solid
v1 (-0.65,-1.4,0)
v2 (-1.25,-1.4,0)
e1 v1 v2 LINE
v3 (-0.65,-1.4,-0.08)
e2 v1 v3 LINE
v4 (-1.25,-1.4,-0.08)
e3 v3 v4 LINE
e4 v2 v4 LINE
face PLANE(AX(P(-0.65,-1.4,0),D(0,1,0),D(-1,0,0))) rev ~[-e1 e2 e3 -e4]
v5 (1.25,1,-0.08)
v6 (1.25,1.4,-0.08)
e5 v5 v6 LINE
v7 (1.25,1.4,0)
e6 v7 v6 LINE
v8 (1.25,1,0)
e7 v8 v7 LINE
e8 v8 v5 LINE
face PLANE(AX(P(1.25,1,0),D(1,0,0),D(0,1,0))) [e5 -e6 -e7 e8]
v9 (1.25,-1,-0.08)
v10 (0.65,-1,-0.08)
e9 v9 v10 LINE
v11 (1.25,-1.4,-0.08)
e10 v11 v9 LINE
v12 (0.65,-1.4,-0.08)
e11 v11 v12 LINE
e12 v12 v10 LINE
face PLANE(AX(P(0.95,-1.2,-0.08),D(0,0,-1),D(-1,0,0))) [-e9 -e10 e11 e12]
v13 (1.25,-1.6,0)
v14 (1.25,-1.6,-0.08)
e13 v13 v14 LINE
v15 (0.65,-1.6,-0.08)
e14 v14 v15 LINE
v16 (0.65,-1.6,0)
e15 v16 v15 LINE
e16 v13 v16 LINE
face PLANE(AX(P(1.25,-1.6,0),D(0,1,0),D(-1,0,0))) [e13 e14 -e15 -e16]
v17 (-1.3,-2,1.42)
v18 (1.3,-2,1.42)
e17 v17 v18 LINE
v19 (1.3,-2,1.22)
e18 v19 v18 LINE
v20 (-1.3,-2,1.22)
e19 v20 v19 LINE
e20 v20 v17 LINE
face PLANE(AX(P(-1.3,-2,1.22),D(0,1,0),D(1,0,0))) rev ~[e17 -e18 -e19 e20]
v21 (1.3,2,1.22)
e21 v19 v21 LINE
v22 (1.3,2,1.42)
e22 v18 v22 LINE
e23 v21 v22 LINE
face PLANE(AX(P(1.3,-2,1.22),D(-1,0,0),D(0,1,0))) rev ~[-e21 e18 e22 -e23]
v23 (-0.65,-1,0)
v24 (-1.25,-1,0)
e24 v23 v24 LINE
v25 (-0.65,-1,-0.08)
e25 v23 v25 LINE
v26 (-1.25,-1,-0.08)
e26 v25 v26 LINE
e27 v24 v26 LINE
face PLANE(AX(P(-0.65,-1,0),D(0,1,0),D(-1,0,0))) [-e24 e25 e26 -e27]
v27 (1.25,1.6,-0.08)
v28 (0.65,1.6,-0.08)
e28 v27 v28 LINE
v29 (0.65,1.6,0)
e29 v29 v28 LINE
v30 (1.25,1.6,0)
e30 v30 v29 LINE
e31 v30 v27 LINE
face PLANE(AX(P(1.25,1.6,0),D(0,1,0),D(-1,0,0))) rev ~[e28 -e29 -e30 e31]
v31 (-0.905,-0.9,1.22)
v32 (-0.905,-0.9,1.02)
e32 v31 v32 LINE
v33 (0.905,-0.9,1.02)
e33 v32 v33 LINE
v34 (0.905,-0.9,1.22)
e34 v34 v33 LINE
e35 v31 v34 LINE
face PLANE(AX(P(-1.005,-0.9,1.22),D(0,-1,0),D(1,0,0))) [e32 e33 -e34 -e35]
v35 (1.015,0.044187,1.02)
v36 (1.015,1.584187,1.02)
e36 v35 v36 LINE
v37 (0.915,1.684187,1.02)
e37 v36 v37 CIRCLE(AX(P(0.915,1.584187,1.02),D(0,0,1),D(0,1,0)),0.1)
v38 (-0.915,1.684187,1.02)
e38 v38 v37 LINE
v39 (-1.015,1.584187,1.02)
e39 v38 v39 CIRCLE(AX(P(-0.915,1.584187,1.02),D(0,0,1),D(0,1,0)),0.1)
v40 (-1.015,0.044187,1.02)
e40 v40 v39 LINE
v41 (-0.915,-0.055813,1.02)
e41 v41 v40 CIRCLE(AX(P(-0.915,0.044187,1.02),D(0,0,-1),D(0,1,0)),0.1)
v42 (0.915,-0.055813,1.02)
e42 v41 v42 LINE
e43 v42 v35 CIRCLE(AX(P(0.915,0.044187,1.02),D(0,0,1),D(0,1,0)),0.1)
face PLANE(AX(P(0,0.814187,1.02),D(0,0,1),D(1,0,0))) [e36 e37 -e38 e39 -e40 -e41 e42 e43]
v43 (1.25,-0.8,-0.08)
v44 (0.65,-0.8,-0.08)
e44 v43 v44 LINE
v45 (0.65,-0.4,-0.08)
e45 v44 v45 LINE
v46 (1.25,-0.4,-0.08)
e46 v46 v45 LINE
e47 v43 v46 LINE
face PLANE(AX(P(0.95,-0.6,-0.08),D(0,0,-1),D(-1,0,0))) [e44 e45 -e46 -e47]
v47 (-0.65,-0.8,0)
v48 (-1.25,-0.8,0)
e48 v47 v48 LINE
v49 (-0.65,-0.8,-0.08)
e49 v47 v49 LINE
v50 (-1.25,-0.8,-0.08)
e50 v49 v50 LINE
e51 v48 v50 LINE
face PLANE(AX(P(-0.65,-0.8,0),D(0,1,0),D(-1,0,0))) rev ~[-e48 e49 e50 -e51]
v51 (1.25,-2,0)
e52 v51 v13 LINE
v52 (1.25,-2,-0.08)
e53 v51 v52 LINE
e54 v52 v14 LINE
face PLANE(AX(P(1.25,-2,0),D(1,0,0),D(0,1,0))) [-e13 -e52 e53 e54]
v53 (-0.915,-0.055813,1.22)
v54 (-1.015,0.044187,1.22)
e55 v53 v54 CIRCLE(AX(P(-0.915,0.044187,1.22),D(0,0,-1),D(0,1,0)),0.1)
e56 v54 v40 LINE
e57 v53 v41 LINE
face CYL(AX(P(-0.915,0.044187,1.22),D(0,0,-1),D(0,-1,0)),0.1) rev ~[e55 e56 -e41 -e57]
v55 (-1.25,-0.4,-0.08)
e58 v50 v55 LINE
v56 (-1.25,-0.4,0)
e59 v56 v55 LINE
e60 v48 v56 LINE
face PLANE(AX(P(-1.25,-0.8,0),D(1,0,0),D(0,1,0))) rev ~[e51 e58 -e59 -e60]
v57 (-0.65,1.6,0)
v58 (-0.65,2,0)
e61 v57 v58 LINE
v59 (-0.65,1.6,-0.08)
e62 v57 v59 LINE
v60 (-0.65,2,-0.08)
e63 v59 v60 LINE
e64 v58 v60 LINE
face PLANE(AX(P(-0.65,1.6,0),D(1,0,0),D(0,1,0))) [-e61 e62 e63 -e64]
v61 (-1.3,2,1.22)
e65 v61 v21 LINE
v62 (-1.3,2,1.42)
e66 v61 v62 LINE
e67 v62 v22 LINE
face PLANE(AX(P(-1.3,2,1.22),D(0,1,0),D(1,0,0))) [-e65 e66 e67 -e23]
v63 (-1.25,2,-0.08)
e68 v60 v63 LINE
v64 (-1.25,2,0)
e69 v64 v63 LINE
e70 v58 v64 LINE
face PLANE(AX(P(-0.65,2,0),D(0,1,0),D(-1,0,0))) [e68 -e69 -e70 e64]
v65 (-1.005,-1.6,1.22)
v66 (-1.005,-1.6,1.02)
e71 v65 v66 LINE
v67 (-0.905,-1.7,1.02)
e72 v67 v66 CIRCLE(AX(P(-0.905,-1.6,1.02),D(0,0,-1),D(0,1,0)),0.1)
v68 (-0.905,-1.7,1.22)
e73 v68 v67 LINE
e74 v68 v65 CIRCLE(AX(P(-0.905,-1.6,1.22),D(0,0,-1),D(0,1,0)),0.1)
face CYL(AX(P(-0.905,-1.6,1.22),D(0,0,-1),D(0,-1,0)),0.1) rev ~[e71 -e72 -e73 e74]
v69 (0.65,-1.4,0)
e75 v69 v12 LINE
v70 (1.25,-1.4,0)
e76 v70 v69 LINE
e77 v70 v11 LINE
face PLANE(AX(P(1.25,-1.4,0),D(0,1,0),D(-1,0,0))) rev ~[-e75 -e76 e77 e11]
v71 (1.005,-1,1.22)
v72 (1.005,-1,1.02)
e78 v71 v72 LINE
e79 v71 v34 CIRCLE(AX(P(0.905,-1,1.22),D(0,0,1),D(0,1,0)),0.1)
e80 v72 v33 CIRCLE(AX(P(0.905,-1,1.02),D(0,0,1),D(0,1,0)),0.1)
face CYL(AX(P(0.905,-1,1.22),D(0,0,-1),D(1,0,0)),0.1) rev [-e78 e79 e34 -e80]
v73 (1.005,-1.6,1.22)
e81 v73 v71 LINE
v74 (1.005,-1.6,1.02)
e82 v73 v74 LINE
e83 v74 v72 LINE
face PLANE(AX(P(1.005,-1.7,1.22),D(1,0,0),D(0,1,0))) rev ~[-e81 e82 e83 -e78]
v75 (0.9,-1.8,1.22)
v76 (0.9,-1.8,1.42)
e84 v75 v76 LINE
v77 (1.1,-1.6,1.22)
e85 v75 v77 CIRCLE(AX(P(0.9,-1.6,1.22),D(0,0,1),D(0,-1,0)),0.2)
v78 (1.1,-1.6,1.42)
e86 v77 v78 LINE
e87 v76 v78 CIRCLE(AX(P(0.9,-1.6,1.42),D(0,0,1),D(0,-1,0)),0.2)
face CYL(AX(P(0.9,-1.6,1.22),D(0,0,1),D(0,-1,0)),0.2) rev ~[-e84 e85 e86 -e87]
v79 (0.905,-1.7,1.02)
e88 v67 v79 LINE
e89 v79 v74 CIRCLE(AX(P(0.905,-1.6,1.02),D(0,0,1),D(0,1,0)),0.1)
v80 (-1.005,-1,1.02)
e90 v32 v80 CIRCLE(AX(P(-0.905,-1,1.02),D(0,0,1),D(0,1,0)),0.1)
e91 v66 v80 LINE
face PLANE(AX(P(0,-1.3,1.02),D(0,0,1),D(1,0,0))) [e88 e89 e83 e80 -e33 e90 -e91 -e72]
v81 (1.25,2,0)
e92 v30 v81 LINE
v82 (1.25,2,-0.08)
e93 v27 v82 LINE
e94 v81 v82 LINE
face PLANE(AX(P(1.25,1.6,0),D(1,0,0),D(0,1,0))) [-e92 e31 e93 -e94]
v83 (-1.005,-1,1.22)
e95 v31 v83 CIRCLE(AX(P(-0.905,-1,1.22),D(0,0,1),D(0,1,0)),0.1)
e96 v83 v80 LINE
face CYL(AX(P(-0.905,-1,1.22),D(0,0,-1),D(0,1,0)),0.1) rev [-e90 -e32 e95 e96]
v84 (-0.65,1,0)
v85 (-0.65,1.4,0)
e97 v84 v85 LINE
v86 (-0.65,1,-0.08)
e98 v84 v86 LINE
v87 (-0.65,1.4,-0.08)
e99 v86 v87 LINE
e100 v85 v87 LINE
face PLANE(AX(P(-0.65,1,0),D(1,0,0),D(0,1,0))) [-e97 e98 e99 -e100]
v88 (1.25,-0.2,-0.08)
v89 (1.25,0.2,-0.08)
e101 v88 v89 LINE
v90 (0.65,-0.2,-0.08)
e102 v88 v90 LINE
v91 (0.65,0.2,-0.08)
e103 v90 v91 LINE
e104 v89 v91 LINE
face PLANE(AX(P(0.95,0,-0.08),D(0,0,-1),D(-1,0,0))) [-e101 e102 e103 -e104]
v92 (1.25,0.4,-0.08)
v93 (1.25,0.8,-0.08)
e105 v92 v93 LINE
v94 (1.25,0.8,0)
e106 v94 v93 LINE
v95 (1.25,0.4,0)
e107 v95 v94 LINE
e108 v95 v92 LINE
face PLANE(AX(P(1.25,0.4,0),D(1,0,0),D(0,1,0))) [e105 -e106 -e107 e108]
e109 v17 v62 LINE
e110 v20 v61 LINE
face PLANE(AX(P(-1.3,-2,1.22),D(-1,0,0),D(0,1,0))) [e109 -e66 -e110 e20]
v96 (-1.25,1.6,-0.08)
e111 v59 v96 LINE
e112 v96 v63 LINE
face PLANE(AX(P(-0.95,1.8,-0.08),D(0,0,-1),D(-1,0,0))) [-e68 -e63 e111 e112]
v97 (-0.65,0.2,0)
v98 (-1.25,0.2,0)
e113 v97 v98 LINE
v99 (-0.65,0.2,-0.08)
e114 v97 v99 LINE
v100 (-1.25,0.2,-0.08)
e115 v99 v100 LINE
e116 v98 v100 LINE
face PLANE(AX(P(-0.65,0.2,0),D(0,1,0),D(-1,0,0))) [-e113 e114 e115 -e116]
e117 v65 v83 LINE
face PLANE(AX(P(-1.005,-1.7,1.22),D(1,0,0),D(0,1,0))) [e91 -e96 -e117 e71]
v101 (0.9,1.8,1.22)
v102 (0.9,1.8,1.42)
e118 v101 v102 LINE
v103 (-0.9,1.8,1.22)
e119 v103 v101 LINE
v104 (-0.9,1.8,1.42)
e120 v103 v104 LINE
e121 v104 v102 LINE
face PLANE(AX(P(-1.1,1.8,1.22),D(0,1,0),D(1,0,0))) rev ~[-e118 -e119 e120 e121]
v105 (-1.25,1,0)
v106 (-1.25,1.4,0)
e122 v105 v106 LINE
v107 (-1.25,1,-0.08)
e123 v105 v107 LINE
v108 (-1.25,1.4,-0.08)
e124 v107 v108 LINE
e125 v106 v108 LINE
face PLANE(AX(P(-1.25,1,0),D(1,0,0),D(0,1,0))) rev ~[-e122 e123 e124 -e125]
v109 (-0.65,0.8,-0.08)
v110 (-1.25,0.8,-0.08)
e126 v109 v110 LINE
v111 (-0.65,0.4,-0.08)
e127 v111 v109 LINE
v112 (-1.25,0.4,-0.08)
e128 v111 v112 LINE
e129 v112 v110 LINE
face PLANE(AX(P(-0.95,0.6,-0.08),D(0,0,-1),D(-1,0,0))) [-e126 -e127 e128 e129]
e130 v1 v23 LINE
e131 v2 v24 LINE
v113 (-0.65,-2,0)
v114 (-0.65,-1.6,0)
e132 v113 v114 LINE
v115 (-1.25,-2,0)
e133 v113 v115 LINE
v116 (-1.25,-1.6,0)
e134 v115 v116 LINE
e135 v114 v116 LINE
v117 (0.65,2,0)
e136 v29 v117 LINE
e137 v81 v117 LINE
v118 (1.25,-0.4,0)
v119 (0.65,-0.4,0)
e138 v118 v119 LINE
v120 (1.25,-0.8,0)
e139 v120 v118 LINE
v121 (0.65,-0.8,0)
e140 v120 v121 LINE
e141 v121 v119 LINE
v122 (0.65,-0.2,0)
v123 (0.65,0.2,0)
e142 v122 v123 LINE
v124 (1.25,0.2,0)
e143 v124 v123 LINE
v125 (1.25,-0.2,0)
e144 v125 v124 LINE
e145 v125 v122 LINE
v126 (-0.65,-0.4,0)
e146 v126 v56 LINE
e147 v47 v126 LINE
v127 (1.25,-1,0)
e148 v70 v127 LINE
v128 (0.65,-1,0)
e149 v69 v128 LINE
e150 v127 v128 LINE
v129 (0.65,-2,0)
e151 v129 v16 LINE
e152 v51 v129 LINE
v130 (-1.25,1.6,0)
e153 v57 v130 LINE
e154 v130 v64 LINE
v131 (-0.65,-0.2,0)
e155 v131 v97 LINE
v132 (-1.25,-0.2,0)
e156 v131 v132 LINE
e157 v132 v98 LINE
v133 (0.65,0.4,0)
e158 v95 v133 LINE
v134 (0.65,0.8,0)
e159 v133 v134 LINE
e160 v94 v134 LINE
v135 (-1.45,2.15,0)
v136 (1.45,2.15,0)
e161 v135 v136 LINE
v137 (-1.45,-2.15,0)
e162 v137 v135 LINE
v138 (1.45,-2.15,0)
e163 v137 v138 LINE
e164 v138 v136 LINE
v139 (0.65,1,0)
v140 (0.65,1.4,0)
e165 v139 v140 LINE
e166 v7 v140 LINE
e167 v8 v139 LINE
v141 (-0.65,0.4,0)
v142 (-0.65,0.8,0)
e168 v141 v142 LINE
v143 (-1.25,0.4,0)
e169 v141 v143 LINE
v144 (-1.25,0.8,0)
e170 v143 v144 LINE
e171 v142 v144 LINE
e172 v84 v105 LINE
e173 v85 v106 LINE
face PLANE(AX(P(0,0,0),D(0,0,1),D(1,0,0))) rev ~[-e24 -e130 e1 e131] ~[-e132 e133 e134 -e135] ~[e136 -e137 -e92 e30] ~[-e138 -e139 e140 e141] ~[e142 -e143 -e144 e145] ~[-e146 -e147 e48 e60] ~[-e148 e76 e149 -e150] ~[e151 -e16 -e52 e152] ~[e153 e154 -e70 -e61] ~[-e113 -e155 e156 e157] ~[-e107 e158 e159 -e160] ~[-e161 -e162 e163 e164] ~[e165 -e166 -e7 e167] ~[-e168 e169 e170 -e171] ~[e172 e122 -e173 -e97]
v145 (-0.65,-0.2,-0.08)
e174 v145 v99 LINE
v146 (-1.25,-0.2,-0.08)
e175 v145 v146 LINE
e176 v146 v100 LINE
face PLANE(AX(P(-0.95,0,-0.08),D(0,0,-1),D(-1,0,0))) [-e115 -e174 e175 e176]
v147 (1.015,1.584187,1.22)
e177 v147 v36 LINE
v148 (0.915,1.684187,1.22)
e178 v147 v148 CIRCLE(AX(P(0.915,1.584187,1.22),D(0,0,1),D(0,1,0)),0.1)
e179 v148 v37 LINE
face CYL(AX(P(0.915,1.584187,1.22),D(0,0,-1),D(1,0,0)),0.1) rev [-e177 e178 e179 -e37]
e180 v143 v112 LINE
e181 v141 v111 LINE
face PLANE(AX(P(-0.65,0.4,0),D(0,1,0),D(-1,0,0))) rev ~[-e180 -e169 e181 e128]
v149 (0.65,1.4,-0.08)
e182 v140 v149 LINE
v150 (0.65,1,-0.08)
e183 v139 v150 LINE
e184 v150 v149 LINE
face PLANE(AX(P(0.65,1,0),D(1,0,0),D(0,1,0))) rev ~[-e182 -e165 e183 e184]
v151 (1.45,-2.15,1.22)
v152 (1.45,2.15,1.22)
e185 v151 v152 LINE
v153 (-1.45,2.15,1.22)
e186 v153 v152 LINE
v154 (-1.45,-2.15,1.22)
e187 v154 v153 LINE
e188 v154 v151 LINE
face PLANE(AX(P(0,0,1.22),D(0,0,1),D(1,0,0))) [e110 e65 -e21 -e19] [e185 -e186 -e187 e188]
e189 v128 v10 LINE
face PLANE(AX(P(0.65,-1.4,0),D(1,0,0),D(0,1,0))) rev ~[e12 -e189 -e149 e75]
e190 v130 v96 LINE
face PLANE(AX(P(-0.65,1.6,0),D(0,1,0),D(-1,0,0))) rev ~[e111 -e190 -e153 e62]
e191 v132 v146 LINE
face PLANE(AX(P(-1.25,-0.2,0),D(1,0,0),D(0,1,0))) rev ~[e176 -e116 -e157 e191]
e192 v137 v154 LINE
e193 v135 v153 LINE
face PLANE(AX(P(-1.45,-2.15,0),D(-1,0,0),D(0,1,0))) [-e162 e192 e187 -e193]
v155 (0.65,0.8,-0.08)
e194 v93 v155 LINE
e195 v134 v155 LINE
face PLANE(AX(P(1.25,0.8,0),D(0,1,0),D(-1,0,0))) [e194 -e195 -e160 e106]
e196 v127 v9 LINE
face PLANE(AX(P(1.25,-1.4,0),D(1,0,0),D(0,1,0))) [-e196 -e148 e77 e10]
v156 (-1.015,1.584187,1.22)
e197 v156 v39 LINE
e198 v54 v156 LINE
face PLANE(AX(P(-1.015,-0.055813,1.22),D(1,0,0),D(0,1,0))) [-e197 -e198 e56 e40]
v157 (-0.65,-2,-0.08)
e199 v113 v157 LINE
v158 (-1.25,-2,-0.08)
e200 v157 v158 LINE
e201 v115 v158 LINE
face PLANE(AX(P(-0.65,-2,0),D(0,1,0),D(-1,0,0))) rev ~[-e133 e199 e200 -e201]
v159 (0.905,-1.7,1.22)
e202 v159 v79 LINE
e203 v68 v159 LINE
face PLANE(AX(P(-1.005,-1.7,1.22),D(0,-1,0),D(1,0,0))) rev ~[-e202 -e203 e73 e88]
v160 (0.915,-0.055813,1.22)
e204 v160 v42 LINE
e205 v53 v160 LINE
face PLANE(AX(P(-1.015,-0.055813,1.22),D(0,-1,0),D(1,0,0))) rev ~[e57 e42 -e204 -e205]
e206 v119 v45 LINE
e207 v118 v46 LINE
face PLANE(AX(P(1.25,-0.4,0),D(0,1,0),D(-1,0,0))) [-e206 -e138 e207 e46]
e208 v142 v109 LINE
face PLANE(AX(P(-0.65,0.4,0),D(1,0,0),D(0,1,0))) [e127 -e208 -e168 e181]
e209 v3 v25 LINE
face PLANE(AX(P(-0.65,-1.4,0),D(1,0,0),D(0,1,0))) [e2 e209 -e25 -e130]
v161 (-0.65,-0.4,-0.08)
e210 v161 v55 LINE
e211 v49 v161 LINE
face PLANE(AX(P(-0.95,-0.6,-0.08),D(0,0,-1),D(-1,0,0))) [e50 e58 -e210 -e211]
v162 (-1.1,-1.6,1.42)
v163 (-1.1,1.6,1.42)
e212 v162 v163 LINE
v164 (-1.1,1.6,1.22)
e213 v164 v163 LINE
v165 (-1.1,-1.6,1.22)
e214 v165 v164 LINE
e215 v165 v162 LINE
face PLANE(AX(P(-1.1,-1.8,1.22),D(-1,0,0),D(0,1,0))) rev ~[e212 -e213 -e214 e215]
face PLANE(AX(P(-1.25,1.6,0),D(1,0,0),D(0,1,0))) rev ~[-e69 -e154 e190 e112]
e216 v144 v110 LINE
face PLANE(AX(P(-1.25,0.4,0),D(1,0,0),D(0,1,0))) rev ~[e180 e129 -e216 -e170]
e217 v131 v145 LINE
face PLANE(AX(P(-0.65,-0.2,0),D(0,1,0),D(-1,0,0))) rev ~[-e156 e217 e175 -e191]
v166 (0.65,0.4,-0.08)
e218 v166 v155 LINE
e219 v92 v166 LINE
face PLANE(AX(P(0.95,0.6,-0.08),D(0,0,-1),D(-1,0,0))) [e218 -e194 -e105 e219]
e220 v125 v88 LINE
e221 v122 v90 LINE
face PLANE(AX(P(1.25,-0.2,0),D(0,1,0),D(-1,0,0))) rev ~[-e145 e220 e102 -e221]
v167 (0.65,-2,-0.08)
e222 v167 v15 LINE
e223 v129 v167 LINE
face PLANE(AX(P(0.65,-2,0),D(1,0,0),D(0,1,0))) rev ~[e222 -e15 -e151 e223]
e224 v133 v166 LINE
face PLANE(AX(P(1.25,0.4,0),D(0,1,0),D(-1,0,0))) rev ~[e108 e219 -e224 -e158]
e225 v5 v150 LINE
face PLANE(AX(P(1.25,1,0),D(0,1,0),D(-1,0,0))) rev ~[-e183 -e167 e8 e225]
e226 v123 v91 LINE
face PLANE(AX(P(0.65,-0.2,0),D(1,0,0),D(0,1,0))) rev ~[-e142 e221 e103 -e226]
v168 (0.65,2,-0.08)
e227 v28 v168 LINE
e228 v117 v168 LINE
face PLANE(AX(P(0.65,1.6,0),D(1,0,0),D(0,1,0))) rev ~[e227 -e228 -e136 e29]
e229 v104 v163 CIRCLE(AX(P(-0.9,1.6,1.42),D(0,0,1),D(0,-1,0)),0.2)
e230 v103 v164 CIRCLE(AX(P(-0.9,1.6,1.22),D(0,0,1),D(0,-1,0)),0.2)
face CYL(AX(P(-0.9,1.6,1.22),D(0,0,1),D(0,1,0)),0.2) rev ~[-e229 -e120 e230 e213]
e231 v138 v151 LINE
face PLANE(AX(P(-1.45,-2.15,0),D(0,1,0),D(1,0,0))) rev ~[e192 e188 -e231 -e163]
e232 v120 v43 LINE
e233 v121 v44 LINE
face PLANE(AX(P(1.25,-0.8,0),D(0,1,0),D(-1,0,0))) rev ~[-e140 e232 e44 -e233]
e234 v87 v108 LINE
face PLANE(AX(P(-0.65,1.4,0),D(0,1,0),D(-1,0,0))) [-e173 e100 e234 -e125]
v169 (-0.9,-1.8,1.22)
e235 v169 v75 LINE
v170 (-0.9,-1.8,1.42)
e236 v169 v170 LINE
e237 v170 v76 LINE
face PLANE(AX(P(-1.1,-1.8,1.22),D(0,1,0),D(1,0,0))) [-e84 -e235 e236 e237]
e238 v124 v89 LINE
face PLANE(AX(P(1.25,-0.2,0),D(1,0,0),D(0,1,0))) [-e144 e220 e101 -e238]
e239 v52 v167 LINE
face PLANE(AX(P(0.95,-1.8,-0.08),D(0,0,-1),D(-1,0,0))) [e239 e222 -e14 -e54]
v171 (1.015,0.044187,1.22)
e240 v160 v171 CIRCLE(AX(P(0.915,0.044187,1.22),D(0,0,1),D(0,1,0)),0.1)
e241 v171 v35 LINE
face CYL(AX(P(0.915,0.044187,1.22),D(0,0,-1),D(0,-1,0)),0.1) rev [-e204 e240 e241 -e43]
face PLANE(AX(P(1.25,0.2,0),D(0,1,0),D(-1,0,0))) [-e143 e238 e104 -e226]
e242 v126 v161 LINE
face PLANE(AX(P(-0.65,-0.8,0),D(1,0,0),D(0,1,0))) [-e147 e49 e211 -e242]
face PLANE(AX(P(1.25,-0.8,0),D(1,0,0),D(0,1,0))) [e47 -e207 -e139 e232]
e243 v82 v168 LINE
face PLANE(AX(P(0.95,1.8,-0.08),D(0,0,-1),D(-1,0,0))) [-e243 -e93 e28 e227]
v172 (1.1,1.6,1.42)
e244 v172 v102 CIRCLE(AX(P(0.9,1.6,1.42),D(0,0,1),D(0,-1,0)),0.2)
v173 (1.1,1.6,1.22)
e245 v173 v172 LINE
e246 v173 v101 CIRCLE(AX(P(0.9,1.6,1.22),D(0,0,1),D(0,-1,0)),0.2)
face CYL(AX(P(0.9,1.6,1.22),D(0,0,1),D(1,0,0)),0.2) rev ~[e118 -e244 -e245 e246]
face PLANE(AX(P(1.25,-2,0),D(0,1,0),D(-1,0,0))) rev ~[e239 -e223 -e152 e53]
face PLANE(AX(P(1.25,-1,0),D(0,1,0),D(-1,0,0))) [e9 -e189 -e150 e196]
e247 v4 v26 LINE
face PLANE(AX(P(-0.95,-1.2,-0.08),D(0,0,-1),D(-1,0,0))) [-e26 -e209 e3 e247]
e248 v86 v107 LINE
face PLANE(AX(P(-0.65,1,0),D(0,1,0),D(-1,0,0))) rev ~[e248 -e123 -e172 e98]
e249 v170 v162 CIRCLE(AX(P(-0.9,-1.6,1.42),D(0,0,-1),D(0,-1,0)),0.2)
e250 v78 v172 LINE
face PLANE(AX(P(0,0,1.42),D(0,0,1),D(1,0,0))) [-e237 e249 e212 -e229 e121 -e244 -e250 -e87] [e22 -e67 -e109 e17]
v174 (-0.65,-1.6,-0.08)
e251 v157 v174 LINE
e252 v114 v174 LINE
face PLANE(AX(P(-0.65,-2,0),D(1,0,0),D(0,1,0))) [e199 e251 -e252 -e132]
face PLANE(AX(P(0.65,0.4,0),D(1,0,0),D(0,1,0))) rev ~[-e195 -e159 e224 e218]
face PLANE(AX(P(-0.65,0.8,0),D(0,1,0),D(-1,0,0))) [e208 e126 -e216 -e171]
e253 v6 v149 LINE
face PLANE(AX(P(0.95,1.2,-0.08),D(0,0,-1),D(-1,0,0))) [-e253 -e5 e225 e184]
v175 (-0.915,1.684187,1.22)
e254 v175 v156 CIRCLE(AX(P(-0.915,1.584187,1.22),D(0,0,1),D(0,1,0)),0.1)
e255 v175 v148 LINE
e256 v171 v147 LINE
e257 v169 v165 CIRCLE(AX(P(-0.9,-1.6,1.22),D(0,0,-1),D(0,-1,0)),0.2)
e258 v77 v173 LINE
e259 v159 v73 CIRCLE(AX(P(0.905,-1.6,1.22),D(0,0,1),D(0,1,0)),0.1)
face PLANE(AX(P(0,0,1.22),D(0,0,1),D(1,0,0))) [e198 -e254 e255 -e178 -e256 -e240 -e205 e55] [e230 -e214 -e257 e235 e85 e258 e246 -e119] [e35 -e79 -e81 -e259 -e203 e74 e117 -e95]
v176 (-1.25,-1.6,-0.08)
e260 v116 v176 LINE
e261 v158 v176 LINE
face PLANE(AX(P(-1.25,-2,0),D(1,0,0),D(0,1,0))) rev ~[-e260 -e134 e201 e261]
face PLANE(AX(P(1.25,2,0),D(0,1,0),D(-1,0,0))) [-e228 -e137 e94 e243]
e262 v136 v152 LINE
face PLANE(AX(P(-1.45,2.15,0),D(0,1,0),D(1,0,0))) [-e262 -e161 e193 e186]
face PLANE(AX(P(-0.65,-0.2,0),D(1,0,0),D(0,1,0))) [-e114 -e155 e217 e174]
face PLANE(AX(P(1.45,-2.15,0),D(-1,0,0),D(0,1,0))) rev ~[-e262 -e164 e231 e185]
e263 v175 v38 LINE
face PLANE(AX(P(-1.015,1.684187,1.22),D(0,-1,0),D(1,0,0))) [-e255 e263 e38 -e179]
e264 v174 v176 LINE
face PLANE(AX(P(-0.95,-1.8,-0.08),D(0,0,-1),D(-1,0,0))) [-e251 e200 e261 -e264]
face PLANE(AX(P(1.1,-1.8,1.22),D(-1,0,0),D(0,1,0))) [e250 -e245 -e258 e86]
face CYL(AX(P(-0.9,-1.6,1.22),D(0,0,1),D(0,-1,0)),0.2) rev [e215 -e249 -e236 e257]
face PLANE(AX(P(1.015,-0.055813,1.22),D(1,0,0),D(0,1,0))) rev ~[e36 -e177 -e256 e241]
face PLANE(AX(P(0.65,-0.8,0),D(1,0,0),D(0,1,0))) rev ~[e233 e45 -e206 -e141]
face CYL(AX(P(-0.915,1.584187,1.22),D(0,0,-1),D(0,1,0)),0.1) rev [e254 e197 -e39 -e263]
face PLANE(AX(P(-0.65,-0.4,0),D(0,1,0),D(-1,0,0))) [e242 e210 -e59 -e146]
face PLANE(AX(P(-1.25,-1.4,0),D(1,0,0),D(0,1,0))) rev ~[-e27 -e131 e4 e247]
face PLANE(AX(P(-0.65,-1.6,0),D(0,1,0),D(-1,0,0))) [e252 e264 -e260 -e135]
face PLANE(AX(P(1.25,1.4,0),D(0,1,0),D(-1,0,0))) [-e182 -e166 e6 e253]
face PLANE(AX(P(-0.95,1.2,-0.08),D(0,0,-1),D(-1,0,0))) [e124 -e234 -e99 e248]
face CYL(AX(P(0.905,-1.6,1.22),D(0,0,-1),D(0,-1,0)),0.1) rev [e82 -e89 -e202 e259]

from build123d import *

# Parameters (mm, degrees)
SKETCH1_W           = 2.9
SKETCH1_H           = 4.3
BOSS_EXTRUDE1_DEPTH = 1.22
SKETCH4_W           = 0.6
SKETCH4_H           = 0.4
BOSS_EXTRUDE2_DEPTH = 0.08
SKETCH3_W           = 2.03
SKETCH3_H           = 1.74
SKETCH3_W_2         = 2.01
SKETCH3_H_2         = 0.8
CUT_EXTRUDE2_DEPTH  = 0.2
FILLET1_R           = 0.1
SKETCH2_W           = 2.6
SKETCH2_H           = 4
SKETCH2_W_2         = 2.2
SKETCH2_H_2         = 3.6
BOSS_EXTRUDE3_DEPTH = 0.2
FILLET2_R           = 0.2


with BuildPart() as part:
    # Sketch1 → Boss-Extrude1 (new body)
    with BuildSketch(Plane.XY):
        Rectangle(SKETCH1_W, SKETCH1_H)
    extrude(amount=BOSS_EXTRUDE1_DEPTH)

    # Sketch4 → Boss-Extrude2 (add)
    with BuildSketch(Plane(origin=(0, 0, 0), x_dir=(-1, 0, 0), z_dir=(0, 0, -1))):
        with Locations((0.95, 1.8)):
            Rectangle(SKETCH4_W, SKETCH4_H)
        with Locations((-0.95, 1.8)):
            Rectangle(SKETCH4_W, SKETCH4_H)
        with Locations((0.95, 1.2)):
            Rectangle(SKETCH4_W, SKETCH4_H)
        with Locations((0.95, 0.6)):
            Rectangle(SKETCH4_W, SKETCH4_H)
        with Locations((0.95, 0)):
            Rectangle(SKETCH4_W, SKETCH4_H)
        with Locations((0.95, -0.6)):
            Rectangle(SKETCH4_W, SKETCH4_H)
        with Locations((0.95, -1.2)):
            Rectangle(SKETCH4_W, SKETCH4_H)
        with Locations((0.95, -1.8)):
            Rectangle(SKETCH4_W, SKETCH4_H)
        with Locations((-0.95, 1.2)):
            Rectangle(SKETCH4_W, SKETCH4_H)
        with Locations((-0.95, 0.6)):
            Rectangle(SKETCH4_W, SKETCH4_H)
        with Locations((-0.95, 0)):
            Rectangle(SKETCH4_W, SKETCH4_H)
        with Locations((-0.95, -0.6)):
            Rectangle(SKETCH4_W, SKETCH4_H)
        with Locations((-0.95, -1.2)):
            Rectangle(SKETCH4_W, SKETCH4_H)
        with Locations((-0.95, -1.8)):
            Rectangle(SKETCH4_W, SKETCH4_H)
    extrude(amount=BOSS_EXTRUDE2_DEPTH)

    # Sketch3 → Cut-Extrude2 (cut)
    with BuildSketch(Plane.XY.offset(1.22)):
        with Locations((0, 0.814186616)):
            Rectangle(SKETCH3_W, SKETCH3_H)
        with Locations((0, -1.3)):
            Rectangle(SKETCH3_W_2, SKETCH3_H_2)
    extrude(amount=-CUT_EXTRUDE2_DEPTH, mode=Mode.SUBTRACT)

    # Fillet1
    fillet1_edges = [part.edges().sort_by_distance(p)[0] for p in [
        (1.015, 1.684186616, 1.12),
        (1.015, -0.055813384, 1.12),
        (-1.015, -0.055813384, 1.12),
        (-1.015, 1.684186616, 1.12),
        (1.005, -0.9, 1.12),
        (1.005, -1.7, 1.12),
        (-1.005, -1.7, 1.12),
        (-1.005, -0.9, 1.12),
    ]]
    fillet(fillet1_edges, radius=FILLET1_R)

    # Sketch2 → Boss-Extrude3 (add)
    with BuildSketch(Plane.XY.offset(1.22)):
        Rectangle(SKETCH2_W, SKETCH2_H)
        Rectangle(SKETCH2_W_2, SKETCH2_H_2, mode=Mode.SUBTRACT)
    extrude(amount=BOSS_EXTRUDE3_DEPTH)

    # Fillet2
    fillet2_edges = [part.edges().sort_by_distance(p)[0] for p in [
        (1.1, -1.8, 1.32),
        (-1.1, -1.8, 1.32),
        (-1.1, 1.8, 1.32),
        (1.1, 1.8, 1.32),
    ]]
    fillet(fillet2_edges, radius=FILLET2_R)


solid = part.part
